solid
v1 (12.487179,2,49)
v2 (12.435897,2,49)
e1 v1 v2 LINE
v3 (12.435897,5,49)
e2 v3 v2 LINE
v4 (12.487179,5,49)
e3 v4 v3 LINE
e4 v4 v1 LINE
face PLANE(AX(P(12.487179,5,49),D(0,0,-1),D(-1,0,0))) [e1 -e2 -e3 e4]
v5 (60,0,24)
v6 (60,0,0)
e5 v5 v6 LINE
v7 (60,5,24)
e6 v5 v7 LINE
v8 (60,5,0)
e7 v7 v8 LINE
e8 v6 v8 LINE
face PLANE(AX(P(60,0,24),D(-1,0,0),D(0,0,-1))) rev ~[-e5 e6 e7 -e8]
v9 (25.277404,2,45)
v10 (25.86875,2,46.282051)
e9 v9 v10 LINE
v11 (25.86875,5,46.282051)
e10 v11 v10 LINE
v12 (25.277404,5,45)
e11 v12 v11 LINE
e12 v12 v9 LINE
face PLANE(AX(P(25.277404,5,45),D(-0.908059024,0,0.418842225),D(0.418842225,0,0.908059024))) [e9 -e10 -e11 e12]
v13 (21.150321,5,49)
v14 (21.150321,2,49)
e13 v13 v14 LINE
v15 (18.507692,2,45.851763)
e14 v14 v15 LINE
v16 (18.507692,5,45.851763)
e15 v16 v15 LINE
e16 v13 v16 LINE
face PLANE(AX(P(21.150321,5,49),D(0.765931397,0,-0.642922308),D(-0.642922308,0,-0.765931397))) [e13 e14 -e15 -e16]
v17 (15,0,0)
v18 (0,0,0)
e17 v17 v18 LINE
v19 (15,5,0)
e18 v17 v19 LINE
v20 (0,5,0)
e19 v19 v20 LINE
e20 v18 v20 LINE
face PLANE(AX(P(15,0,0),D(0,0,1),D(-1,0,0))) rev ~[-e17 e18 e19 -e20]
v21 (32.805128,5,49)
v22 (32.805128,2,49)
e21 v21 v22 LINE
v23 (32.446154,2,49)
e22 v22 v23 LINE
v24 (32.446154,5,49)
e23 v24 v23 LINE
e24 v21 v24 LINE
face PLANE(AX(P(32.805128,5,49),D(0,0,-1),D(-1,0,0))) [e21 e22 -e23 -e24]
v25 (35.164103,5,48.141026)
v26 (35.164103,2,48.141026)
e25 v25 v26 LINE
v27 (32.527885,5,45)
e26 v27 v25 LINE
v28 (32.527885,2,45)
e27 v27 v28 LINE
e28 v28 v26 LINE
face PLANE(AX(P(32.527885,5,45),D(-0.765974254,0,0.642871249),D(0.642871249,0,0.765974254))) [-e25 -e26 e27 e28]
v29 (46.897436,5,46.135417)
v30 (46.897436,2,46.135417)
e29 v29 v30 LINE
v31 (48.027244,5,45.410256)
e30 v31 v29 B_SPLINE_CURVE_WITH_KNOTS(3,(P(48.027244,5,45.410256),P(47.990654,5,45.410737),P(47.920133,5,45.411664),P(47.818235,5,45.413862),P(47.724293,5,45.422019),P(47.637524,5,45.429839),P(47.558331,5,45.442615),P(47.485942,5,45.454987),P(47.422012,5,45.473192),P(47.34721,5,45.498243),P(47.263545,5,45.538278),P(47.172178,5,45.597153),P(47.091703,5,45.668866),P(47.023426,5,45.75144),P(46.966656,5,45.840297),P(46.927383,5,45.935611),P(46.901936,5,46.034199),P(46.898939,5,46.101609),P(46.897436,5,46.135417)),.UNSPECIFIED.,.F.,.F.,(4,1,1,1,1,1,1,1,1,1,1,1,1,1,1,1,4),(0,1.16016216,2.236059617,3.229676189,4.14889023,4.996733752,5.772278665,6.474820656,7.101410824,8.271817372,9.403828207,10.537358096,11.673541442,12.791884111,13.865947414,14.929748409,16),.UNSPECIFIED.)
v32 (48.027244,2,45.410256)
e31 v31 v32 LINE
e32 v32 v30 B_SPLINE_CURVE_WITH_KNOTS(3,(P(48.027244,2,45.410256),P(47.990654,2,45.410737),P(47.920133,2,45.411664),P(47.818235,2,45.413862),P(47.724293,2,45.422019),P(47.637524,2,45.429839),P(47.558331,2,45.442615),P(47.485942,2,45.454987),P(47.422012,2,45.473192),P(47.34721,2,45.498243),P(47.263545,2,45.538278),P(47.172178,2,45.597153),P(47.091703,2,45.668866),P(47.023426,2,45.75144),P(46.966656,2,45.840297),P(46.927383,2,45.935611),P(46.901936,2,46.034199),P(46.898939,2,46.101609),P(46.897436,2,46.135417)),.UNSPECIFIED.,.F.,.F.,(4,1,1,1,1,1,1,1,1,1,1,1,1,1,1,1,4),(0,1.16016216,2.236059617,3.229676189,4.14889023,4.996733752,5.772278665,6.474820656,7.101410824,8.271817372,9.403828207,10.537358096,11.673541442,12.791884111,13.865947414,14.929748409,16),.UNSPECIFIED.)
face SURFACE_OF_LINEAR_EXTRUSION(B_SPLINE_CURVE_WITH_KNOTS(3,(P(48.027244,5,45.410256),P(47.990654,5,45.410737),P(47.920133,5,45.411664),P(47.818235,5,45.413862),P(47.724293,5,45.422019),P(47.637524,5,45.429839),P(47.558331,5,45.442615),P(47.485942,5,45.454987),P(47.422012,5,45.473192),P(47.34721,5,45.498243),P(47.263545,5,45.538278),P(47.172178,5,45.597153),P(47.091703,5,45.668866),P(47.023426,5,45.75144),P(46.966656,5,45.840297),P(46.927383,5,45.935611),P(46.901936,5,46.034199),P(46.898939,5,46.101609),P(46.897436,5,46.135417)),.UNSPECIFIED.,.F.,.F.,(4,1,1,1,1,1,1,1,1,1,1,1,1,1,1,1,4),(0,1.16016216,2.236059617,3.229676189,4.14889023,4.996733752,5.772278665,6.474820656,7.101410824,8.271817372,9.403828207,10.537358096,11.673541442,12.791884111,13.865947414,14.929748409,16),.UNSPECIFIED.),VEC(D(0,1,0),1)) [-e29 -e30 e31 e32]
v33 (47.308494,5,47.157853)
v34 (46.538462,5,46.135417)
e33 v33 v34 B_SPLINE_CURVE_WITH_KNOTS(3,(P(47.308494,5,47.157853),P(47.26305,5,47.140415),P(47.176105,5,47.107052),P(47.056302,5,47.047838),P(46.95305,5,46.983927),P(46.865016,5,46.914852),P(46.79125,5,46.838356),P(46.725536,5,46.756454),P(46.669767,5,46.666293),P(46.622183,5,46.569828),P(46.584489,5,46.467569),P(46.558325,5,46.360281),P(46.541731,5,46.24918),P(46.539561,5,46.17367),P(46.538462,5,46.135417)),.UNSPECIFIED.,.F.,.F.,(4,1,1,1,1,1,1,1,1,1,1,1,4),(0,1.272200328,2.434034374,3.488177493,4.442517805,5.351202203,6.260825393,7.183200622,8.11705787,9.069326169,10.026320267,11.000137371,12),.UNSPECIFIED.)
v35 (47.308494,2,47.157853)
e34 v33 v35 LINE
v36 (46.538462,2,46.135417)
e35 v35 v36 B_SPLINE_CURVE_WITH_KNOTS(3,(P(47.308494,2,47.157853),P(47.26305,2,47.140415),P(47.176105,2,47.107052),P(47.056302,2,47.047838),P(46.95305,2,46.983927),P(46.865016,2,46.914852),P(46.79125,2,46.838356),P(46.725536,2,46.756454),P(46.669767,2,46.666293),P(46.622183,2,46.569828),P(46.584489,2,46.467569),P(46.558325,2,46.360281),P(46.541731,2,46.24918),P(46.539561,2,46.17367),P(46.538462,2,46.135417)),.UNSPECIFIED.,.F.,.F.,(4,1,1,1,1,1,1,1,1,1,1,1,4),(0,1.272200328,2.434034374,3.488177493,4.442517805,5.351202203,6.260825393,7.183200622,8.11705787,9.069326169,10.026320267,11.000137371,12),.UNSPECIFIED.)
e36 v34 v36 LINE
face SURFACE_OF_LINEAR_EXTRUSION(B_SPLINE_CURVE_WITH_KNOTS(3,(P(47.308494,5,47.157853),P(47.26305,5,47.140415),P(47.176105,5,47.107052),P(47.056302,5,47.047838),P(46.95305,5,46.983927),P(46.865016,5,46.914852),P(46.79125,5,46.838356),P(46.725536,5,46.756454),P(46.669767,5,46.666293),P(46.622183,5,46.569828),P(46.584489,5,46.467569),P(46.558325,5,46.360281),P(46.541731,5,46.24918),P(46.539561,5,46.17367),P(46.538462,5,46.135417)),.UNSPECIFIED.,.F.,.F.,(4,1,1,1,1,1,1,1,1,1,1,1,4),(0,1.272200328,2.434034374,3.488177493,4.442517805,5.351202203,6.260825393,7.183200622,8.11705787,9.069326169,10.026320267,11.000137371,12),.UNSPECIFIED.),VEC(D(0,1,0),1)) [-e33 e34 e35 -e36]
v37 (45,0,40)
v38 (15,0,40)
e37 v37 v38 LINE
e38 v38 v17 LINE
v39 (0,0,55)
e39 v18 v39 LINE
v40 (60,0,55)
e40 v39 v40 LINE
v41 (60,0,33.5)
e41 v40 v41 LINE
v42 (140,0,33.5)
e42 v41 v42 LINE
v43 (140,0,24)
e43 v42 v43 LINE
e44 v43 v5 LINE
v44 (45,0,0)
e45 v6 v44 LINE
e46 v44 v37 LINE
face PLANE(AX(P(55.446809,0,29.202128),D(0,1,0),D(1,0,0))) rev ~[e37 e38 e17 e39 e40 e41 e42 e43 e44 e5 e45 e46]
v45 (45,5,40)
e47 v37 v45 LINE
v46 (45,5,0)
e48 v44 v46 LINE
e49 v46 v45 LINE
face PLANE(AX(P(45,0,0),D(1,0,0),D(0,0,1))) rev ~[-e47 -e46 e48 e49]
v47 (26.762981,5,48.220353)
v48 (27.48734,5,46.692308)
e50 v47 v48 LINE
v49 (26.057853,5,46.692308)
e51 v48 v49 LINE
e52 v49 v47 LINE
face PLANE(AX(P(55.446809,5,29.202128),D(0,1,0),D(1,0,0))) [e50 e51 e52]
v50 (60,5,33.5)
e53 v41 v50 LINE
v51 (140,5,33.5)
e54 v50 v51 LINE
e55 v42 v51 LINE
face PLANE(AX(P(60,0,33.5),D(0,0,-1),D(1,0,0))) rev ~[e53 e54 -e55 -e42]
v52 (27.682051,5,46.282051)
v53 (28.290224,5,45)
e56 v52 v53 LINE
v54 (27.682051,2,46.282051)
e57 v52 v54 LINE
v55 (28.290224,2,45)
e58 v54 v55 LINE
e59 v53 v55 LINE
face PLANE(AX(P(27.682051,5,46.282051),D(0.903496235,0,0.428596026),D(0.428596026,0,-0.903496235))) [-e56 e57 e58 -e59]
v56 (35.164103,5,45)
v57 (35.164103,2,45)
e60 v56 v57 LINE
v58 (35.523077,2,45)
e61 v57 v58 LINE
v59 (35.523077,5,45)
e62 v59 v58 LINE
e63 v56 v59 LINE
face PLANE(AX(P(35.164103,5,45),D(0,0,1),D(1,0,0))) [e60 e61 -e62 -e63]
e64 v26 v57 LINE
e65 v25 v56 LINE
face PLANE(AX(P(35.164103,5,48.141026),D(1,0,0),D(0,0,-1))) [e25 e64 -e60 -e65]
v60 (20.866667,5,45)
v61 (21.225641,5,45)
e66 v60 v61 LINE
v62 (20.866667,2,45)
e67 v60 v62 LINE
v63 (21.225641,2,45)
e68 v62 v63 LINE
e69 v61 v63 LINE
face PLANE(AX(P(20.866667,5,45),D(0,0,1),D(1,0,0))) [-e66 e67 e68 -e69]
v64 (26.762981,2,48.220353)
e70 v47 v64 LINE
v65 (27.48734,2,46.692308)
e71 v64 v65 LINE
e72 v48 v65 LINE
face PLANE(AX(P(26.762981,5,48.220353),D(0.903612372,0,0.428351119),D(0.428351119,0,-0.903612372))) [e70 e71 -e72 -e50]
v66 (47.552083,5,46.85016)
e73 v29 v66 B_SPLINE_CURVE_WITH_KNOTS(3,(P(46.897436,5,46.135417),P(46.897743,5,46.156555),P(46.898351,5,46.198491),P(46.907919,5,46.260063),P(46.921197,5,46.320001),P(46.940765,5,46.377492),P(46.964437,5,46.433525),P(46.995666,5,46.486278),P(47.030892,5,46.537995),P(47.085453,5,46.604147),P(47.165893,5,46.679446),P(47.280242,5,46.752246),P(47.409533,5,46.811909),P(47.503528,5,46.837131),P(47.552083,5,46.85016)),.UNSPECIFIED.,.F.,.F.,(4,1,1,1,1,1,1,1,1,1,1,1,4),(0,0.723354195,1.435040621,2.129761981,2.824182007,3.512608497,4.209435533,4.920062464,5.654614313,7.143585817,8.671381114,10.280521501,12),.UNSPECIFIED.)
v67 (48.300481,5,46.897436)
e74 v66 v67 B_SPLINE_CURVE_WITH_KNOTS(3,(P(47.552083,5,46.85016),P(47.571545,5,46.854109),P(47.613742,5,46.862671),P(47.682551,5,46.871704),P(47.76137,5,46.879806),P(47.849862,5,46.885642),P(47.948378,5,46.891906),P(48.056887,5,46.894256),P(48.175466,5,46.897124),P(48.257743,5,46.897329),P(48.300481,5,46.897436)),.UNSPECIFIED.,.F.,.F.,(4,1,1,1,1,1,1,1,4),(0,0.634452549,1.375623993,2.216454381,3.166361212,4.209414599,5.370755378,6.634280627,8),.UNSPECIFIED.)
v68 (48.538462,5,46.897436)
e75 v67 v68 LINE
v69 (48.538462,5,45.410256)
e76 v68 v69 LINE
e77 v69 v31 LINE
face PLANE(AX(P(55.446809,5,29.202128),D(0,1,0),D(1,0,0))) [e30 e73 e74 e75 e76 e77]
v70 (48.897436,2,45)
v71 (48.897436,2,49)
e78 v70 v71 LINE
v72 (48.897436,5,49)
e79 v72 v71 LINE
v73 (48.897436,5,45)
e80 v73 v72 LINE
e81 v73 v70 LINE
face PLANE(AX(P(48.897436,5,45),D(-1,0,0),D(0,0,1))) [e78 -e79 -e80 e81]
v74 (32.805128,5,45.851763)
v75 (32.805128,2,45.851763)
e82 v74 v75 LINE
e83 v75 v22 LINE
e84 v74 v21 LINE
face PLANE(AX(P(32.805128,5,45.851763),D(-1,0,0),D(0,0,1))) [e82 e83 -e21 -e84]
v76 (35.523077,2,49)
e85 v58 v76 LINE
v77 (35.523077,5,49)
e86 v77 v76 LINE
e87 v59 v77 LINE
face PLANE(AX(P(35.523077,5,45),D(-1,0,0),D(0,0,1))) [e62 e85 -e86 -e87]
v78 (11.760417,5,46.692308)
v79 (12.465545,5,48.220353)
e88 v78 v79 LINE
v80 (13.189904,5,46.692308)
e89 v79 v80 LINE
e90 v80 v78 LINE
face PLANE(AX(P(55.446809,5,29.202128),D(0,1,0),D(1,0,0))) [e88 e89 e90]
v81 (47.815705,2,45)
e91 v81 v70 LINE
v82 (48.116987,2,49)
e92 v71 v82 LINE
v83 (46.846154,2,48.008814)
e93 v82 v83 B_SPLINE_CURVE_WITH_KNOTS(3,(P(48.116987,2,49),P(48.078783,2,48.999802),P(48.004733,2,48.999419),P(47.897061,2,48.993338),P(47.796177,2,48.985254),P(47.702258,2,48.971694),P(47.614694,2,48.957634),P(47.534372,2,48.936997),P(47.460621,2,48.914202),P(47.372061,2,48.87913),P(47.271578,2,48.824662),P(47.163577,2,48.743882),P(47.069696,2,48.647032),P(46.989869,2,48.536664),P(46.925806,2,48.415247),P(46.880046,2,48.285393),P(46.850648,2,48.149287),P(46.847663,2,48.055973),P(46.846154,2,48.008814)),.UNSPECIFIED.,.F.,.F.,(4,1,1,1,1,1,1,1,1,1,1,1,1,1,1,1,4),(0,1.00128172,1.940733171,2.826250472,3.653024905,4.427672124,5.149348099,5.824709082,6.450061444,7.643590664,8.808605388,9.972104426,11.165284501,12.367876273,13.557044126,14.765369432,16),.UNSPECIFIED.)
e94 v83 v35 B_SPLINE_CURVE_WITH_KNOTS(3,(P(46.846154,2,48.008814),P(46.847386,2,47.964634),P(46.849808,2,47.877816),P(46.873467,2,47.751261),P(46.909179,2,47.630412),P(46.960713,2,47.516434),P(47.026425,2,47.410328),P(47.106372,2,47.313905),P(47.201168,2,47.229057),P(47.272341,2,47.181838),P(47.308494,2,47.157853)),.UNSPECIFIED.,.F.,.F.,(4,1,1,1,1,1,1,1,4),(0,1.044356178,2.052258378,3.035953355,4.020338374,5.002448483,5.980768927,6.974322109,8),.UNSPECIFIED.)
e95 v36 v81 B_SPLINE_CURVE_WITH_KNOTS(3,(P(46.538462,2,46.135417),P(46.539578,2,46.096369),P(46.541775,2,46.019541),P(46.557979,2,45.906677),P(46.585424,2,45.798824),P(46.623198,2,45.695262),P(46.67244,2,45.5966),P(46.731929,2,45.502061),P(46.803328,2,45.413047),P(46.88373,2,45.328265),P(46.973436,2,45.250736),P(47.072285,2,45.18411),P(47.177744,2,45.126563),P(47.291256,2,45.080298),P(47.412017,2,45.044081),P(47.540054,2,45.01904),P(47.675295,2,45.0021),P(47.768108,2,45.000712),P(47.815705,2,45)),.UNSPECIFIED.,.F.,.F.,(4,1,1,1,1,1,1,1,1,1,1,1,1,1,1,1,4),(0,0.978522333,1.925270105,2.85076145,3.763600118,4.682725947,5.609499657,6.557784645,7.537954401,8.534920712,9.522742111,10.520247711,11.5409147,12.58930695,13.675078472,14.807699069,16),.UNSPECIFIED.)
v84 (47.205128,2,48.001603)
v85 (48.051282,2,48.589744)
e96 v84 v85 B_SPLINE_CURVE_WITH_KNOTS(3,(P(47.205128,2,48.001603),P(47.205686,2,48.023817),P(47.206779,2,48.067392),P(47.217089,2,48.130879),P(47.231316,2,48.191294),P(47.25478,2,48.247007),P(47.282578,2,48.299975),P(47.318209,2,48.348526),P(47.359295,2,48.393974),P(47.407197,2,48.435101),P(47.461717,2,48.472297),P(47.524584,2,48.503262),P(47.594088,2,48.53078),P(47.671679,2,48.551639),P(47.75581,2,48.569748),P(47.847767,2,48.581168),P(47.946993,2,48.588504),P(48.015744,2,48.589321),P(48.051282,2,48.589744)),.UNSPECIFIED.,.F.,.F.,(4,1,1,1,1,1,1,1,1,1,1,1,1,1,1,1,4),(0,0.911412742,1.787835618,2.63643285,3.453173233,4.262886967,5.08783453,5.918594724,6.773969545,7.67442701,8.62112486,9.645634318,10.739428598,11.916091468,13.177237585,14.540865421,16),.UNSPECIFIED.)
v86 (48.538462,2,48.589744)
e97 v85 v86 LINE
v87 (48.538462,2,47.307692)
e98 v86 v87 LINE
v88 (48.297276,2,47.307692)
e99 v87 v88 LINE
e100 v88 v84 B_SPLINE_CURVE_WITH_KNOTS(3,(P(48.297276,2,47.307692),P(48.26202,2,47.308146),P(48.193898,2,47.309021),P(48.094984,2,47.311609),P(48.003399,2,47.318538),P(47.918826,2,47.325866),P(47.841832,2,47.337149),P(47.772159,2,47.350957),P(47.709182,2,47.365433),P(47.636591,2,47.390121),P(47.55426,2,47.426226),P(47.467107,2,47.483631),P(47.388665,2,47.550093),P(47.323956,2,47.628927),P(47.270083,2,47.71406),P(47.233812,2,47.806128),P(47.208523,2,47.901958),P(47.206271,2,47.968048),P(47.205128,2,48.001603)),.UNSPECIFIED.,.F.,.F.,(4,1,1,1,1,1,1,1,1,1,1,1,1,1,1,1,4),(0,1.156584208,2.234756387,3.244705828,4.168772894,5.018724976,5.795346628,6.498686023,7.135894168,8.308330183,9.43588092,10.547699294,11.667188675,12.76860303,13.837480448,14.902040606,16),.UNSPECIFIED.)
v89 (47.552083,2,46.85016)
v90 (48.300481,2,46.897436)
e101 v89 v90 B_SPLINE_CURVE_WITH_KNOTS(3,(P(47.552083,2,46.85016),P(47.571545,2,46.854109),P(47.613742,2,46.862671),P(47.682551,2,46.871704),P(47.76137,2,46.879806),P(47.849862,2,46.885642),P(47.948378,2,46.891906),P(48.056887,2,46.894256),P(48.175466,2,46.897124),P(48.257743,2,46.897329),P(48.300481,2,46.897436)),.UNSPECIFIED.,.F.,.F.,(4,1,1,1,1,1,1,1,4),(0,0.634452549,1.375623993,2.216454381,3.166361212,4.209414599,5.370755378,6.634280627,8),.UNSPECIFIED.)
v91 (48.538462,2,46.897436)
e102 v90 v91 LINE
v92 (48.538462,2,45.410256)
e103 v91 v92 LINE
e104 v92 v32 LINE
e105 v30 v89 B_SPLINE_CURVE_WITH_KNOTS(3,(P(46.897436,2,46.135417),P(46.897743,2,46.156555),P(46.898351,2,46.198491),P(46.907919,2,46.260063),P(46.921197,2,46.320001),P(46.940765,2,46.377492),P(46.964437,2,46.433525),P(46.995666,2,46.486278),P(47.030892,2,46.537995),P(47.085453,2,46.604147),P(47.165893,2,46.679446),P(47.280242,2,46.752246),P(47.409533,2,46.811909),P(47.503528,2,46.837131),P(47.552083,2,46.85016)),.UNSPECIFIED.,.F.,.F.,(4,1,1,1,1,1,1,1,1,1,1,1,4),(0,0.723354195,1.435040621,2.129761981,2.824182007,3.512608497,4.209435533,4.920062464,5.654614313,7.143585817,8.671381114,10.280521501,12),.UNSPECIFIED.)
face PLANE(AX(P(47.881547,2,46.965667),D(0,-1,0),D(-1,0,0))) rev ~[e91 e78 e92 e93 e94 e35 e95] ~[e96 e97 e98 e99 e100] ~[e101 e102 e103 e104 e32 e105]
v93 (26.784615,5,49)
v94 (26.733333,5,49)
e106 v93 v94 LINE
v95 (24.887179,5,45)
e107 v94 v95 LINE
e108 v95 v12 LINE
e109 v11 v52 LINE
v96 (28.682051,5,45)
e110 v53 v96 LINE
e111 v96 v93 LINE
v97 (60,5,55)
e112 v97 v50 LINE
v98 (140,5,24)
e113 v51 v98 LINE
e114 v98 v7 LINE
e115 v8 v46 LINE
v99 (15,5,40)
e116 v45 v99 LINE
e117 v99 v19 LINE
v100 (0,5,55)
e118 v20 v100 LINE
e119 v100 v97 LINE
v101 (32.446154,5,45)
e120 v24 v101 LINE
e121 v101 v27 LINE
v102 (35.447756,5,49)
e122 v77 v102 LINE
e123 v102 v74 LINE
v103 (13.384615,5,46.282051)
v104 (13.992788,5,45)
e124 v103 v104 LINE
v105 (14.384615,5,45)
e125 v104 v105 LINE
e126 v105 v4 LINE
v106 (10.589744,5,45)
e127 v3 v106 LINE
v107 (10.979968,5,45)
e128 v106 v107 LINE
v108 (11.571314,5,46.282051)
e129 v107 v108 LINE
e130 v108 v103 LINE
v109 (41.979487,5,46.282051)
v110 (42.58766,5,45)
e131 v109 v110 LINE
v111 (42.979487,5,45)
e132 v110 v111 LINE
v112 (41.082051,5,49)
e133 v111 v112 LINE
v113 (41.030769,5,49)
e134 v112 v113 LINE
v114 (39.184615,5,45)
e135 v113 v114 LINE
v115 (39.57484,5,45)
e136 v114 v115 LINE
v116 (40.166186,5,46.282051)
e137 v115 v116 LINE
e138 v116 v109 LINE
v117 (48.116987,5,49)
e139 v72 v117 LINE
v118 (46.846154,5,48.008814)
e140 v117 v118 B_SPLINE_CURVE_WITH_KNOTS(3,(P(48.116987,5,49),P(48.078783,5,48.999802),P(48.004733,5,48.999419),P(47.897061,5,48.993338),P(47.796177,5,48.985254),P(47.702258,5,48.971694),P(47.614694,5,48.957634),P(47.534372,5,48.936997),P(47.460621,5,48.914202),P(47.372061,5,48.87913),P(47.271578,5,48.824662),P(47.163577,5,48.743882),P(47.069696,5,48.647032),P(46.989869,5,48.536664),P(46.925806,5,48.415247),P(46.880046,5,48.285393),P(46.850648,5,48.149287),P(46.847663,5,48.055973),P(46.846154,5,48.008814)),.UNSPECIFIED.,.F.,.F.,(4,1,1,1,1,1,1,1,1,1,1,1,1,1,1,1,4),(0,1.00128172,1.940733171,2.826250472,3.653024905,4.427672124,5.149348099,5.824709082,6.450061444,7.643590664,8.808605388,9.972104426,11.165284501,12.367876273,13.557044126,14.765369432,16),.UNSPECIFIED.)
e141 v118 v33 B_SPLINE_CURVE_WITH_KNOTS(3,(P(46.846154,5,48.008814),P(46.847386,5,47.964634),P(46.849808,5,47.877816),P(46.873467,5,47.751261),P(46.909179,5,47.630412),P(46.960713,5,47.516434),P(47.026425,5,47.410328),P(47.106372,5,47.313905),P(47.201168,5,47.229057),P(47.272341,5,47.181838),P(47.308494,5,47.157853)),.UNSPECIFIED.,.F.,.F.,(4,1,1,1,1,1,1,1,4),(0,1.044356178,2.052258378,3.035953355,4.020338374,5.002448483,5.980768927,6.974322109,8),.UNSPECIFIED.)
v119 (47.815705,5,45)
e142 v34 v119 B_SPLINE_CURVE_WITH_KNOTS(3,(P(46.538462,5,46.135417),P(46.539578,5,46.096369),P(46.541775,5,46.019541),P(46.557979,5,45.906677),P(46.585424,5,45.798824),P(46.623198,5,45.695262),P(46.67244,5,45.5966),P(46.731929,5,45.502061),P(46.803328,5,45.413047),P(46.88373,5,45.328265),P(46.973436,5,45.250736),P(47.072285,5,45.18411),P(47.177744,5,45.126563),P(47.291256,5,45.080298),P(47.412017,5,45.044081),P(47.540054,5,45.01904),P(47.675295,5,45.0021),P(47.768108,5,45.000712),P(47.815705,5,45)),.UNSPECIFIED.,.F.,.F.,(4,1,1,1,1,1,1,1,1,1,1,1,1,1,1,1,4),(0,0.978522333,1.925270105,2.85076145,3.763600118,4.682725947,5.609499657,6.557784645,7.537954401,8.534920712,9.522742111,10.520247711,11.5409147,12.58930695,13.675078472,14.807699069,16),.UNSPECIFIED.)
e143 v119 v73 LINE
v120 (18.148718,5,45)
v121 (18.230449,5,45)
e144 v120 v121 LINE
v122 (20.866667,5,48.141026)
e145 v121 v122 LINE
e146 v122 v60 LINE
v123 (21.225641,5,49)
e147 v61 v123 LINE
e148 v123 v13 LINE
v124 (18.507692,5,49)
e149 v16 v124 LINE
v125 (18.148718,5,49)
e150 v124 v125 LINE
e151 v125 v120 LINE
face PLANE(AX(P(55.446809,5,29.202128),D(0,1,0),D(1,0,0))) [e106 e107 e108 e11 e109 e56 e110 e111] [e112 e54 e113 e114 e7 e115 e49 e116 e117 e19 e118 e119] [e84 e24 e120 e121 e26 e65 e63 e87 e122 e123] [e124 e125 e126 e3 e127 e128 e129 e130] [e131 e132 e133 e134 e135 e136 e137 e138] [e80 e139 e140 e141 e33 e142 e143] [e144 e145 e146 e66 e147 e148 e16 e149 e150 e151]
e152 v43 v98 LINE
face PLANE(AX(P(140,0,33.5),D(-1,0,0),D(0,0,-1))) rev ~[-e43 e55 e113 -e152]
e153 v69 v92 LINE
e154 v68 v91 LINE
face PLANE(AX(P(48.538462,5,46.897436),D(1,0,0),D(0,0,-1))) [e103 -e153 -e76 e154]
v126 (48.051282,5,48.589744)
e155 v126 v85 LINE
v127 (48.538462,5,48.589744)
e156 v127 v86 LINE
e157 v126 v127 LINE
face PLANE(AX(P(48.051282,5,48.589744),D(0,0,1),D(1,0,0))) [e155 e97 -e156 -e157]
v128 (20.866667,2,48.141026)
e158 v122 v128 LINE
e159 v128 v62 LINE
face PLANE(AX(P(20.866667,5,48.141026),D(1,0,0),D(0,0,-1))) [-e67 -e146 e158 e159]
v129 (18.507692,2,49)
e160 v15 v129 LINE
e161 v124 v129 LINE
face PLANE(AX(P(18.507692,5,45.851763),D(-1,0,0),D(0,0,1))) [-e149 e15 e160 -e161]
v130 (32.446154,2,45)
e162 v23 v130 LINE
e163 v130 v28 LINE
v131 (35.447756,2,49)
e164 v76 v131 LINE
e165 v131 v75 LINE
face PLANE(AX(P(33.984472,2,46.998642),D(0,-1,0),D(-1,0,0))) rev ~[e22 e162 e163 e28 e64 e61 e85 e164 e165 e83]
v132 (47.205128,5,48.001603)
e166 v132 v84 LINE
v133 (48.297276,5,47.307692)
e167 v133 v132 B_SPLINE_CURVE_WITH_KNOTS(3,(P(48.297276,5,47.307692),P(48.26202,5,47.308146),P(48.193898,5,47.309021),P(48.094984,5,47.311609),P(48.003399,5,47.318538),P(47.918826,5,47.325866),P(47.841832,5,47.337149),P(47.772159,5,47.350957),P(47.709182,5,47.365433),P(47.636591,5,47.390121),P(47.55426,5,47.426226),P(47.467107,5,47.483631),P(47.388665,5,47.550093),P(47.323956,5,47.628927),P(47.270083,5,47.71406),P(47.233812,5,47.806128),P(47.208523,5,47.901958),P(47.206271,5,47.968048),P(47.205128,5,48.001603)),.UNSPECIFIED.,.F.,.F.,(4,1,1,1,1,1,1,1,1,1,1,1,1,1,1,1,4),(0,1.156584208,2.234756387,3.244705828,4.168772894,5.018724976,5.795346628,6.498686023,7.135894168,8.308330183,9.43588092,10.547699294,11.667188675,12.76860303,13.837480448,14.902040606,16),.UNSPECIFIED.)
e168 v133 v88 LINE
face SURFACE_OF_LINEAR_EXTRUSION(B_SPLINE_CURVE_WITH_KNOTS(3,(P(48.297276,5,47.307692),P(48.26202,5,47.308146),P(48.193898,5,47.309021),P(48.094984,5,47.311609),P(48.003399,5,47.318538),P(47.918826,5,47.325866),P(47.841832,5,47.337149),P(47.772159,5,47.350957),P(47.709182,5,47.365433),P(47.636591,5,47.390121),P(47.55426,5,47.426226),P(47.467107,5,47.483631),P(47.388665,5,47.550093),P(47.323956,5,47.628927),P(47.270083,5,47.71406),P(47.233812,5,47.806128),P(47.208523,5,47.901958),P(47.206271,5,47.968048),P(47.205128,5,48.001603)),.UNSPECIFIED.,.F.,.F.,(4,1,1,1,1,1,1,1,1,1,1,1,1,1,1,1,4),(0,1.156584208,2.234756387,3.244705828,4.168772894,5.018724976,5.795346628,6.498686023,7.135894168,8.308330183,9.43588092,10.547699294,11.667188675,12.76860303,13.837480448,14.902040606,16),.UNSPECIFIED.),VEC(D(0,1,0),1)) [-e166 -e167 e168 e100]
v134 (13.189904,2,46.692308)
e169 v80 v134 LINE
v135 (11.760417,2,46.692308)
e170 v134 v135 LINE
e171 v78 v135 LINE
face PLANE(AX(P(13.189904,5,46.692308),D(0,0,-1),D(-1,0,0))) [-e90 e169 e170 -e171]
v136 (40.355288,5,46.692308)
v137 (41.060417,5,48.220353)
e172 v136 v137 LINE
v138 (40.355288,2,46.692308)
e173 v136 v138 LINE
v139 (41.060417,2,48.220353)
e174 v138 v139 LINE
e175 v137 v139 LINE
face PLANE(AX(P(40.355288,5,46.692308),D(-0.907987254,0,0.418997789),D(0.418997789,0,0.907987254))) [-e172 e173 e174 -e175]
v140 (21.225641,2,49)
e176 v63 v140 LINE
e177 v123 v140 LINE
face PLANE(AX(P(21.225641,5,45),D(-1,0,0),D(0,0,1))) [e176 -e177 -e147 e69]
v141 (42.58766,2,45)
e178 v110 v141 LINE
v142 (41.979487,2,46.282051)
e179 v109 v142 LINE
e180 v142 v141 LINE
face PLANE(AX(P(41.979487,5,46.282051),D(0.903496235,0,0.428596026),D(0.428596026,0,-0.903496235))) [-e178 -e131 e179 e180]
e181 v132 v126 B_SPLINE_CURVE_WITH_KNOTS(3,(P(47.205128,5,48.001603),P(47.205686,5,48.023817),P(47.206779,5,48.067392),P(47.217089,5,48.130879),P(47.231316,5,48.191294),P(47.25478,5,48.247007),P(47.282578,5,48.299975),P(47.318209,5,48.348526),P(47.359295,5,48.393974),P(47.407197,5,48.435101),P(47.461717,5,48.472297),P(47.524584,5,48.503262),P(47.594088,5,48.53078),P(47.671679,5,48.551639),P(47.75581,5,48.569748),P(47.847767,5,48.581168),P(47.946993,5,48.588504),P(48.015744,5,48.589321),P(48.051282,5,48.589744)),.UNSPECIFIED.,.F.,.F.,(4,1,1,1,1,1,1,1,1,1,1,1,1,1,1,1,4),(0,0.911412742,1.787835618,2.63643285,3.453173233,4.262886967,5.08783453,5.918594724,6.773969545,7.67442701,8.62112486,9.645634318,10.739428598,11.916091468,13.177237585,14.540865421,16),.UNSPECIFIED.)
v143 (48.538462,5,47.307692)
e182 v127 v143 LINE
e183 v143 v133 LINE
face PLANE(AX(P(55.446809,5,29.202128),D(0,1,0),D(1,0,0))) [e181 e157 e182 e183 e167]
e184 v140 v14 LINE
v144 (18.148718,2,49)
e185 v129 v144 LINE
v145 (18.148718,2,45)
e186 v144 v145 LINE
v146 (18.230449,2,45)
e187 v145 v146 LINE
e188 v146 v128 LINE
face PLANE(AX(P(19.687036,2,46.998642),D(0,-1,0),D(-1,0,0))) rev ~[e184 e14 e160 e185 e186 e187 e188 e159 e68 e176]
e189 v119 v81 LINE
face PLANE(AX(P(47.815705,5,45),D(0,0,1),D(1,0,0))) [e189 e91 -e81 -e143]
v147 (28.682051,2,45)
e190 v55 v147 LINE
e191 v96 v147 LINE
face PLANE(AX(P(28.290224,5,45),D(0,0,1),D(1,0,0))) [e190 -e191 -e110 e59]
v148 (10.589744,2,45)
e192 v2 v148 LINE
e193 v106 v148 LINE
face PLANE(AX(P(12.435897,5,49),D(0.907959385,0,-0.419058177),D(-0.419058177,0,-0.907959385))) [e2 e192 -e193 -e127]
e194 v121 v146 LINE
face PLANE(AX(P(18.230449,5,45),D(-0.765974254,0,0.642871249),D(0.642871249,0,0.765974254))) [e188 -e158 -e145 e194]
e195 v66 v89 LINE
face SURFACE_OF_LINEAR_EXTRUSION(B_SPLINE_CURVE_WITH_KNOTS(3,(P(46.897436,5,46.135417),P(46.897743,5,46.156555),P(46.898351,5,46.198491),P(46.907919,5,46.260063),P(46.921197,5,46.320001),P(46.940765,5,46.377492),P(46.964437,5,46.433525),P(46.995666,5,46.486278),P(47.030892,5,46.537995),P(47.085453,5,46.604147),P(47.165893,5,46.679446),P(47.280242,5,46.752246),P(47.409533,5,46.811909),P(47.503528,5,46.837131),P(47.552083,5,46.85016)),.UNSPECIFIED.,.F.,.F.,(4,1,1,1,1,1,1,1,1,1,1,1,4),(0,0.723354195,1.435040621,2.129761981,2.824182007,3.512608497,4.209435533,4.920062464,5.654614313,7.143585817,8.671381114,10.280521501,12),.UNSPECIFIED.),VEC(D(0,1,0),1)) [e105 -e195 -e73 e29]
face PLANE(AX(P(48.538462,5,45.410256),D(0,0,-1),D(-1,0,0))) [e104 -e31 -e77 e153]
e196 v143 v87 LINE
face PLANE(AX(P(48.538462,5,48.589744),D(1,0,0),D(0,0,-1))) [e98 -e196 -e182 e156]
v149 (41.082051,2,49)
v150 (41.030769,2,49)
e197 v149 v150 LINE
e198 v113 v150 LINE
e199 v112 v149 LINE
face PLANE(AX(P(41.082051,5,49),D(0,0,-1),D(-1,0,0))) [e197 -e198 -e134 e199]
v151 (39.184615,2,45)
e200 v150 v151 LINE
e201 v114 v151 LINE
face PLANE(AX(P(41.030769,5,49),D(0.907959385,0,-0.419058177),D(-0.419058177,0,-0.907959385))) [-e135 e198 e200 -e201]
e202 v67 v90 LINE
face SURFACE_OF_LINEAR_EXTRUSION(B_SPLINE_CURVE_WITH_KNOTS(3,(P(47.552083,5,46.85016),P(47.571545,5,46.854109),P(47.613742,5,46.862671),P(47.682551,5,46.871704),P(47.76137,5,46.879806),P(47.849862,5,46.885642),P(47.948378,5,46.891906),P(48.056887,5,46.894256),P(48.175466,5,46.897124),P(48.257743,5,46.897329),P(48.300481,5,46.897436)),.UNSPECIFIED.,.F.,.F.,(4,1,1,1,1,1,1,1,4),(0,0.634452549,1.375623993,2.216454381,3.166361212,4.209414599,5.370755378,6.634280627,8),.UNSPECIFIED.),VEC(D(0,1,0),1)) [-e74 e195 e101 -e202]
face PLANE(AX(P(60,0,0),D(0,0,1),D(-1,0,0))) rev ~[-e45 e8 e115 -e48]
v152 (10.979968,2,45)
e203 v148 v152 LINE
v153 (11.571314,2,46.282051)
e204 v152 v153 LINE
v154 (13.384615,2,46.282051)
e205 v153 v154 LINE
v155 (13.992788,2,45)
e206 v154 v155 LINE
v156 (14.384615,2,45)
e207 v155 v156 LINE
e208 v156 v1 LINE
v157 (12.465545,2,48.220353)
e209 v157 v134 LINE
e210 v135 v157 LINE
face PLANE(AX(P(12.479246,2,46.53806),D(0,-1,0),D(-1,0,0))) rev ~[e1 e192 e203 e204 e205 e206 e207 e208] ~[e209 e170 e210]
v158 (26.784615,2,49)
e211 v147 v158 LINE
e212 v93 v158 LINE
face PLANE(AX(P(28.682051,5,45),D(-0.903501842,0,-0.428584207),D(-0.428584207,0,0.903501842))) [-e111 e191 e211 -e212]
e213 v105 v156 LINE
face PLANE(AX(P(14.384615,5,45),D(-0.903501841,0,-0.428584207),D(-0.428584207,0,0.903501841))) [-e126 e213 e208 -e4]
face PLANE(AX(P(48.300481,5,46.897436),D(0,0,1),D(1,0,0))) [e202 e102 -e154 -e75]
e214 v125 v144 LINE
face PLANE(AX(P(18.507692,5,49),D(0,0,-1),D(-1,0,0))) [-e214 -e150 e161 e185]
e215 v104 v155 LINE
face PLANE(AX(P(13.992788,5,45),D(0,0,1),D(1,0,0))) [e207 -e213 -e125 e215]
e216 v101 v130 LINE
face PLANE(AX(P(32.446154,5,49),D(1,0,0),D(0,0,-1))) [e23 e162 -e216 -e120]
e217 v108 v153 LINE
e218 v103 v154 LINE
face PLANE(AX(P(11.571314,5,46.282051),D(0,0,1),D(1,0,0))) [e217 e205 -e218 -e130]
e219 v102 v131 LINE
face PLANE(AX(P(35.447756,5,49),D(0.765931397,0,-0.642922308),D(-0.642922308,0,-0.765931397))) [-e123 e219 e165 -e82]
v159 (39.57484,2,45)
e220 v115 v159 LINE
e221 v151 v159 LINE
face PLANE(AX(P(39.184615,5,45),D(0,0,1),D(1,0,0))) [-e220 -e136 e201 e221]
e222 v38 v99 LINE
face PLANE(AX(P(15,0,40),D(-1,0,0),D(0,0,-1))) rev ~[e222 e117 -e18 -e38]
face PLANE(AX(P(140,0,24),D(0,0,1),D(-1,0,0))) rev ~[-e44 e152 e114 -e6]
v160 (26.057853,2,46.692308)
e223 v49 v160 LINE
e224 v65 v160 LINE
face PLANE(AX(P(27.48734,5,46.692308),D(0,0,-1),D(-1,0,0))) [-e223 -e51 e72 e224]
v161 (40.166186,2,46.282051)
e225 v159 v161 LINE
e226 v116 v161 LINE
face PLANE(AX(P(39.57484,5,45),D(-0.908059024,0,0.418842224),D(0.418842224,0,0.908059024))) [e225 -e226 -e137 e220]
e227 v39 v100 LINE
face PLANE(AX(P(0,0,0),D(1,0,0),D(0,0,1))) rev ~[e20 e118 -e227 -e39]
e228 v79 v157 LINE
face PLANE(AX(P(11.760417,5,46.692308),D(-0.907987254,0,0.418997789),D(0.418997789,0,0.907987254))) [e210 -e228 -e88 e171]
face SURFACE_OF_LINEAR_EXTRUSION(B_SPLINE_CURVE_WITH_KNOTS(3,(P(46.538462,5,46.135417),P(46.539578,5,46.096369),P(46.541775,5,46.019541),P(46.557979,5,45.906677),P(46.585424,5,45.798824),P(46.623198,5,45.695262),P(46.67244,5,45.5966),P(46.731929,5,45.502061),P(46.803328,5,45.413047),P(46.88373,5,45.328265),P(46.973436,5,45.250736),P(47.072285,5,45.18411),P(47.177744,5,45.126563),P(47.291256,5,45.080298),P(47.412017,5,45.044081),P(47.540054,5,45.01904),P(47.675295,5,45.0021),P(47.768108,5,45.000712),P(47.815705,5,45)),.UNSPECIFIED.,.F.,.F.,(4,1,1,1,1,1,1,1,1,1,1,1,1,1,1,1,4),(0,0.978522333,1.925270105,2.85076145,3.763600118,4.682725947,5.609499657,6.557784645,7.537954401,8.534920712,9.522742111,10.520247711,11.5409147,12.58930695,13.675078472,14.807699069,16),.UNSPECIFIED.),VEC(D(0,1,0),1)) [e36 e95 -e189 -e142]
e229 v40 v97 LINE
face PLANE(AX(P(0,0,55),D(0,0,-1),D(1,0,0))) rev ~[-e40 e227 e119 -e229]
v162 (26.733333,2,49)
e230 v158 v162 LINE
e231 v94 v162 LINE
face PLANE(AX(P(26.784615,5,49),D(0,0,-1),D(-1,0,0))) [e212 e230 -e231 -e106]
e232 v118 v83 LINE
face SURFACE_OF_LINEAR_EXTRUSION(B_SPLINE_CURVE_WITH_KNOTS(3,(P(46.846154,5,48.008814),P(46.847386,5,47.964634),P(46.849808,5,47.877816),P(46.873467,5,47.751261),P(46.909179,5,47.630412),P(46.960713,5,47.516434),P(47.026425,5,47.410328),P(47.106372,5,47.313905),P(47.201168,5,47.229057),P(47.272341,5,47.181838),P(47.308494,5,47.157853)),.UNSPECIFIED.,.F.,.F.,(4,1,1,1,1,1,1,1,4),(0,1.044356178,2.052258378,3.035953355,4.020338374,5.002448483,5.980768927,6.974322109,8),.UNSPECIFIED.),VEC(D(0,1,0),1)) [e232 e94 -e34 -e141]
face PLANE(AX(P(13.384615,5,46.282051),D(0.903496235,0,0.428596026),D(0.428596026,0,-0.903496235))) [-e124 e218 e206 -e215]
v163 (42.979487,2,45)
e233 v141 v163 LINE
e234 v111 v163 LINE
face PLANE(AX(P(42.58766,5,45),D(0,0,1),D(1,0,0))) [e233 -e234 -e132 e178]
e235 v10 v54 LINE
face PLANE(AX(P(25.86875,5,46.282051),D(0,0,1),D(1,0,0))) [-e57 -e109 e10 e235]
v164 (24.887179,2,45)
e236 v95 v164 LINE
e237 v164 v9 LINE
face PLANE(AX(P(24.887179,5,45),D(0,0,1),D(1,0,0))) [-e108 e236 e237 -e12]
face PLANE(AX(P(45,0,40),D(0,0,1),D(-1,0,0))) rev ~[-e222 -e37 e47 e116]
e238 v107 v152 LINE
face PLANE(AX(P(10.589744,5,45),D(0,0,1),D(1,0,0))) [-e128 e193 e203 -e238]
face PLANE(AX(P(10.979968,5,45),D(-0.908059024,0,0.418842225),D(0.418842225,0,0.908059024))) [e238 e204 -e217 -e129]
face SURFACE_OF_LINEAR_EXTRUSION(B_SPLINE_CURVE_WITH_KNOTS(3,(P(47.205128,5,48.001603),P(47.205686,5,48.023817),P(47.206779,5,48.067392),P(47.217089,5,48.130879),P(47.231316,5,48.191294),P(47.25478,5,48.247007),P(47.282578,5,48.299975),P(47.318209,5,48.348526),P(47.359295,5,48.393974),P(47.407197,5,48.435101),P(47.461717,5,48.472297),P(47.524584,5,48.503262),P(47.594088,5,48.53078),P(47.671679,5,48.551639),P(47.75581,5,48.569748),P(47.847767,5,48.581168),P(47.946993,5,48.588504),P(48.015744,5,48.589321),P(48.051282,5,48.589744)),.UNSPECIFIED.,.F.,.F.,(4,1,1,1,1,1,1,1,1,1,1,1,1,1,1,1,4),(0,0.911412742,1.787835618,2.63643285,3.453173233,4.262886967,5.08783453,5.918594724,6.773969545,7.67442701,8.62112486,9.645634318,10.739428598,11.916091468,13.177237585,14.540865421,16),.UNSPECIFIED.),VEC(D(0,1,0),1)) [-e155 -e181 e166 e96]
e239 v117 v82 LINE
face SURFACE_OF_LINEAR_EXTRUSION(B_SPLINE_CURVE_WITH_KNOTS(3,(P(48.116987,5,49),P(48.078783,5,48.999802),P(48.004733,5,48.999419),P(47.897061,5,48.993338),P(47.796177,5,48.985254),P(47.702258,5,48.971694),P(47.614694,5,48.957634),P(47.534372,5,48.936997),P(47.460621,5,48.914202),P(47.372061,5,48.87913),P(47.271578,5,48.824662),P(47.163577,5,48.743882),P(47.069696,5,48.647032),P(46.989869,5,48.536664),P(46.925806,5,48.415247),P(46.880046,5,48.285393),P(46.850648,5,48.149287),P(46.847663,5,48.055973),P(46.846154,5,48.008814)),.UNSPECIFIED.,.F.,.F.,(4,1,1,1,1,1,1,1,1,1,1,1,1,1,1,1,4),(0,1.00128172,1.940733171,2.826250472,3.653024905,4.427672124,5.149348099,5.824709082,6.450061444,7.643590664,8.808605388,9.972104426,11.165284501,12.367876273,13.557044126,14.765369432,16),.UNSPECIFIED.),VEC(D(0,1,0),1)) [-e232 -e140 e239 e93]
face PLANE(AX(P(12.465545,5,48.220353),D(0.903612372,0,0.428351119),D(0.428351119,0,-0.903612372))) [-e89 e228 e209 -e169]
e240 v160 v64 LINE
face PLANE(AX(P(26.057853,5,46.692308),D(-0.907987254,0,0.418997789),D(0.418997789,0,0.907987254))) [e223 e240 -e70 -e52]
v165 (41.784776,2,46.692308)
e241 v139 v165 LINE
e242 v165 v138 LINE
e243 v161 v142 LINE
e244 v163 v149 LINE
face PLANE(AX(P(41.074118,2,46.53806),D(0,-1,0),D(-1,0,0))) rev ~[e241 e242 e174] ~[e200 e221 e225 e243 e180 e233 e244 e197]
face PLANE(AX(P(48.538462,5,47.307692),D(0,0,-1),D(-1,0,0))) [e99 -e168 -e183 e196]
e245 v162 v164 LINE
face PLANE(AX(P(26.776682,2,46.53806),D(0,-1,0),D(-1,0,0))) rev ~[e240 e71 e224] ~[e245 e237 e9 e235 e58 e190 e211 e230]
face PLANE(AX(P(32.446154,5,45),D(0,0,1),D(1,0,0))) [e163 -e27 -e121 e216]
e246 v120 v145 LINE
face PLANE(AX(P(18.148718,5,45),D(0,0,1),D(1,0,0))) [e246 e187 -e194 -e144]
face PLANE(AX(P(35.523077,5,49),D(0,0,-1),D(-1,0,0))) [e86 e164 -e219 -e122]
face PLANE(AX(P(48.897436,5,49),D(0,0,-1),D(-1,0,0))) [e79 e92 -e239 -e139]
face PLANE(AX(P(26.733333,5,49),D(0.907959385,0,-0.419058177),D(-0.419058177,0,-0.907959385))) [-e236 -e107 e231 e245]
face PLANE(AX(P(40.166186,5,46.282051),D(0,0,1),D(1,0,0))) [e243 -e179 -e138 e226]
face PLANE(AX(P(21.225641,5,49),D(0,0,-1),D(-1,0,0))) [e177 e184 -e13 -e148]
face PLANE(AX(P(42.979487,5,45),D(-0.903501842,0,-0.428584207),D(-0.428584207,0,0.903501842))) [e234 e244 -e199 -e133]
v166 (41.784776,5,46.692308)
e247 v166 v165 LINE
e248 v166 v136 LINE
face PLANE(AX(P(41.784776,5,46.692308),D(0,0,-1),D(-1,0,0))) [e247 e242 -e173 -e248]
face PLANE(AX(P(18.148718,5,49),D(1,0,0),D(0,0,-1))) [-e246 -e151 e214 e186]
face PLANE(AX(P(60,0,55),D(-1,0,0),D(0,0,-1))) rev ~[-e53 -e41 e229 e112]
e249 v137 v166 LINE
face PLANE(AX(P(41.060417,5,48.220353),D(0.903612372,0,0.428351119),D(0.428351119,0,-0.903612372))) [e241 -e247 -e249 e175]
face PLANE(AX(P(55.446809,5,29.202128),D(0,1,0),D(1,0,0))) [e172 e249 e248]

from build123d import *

# Parameters (mm, degrees)
BOSS_EXTRUDE1_DEPTH = 5
CUT_EXTRUDE1_DEPTH  = 3


with BuildPart() as part:
    # Sketch1 → Boss-Extrude1 (new body)
    with BuildSketch(Plane(origin=(0, 0, 0), x_dir=(1, 0, 0), z_dir=(0, 1, 0))):
        Polygon((0, -55), (60, -55), (60, -33.5), (140, -33.5), (140, -24), (60, -24), (60, 0), (45, 0), (45, -40), (15, -40), (15, 0), (0, 0), align=None)
    extrude(amount=BOSS_EXTRUDE1_DEPTH)

    # Sketch4 → Cut-Extrude1 (cut)
    # profile 1 of 6: a face of its own
    with BuildSketch(Plane(origin=(0, 5, 0), x_dir=(1, 0, 0), z_dir=(0, 1, 0))):
        Polygon((12.435897436, -49), (10.58974359, -45), (10.979967949, -45), (11.571314103, -46.282051282), (13.384615385, -46.282051282), (13.992788462, -45), (14.384615385, -45), (12.487179487, -49), align=None)
        Polygon((12.465544872, -48.220352564), (13.189903846, -46.692307692), (11.760416667, -46.692307692), align=None, mode=Mode.SUBTRACT)
    # profile 2 of 6: a face of its own
    with BuildSketch(Plane(origin=(0, 5, 0), x_dir=(1, 0, 0), z_dir=(0, 1, 0))):
        Polygon((21.225641026, -45), (21.225641026, -49), (21.150320513, -49), (18.507692308, -45.851762821), (18.507692308, -49), (18.148717949, -49), (18.148717949, -45), (18.230448718, -45), (20.866666667, -48.141025641), (20.866666667, -45), align=None)
    # profile 3 of 6: a face of its own
    with BuildSketch(Plane(origin=(0, 5, 0), x_dir=(1, 0, 0), z_dir=(0, 1, 0))):
        Polygon((26.733333333, -49), (24.887179487, -45), (25.277403846, -45), (25.86875, -46.282051282), (27.682051282, -46.282051282), (28.290224359, -45), (28.682051282, -45), (26.784615385, -49), align=None)
        Polygon((26.762980769, -48.220352564), (27.487339744, -46.692307692), (26.057852564, -46.692307692), align=None, mode=Mode.SUBTRACT)
    # profile 4 of 6: a face of its own
    with BuildSketch(Plane(origin=(0, 5, 0), x_dir=(1, 0, 0), z_dir=(0, 1, 0))):
        Polygon((35.523076923, -45), (35.523076923, -49), (35.44775641, -49), (32.805128205, -45.851762821), (32.805128205, -49), (32.446153846, -49), (32.446153846, -45), (32.527884615, -45), (35.164102564, -48.141025641), (35.164102564, -45), align=None)
    # profile 5 of 6: a face of its own
    with BuildSketch(Plane(origin=(0, 5, 0), x_dir=(1, 0, 0), z_dir=(0, 1, 0))):
        Polygon((41.030769231, -49), (39.184615385, -45), (39.574839744, -45), (40.166185897, -46.282051282), (41.979487179, -46.282051282), (42.587660256, -45), (42.979487179, -45), (41.082051282, -49), align=None)
        Polygon((41.060416667, -48.220352564), (41.784775641, -46.692307692), (40.355288462, -46.692307692), align=None, mode=Mode.SUBTRACT)
    # profile 6 of 6: a face of its own
    with BuildSketch(Plane(origin=(0, 5, 0), x_dir=(1, 0, 0), z_dir=(0, 1, 0))):
        with BuildLine():
            Line((48.897435897, -49), (48.116987179, -49))
            add(Edge.make_bspline(
                [(48.116987179, -49), (48.078782602, -48.999802304), (48.004732622, -48.999419121), (47.897061448, -48.993338284), (47.7961773, -48.985254385), (47.702258451, -48.97169408), (47.614693787, -48.957633832), (47.534372273, -48.936996754), (47.460621116, -48.91420235), (47.372061071, -48.879130066), (47.271577566, -48.824662366), (47.163576599, -48.743881592), (47.06969557, -48.647031967), (46.989868866, -48.536664179), (46.925806239, -48.415247106), (46.880046085, -48.285393075), (46.85064802, -48.149286724), (46.847662619, -48.055973237), (46.846153846, -48.008814103)],
                knots=[0, 0, 0, 0, 1.00128172, 1.940733171, 2.826250472, 3.653024905, 4.427672124, 5.149348099, 5.824709082, 6.450061444, 7.643590664, 8.808605388, 9.972104426, 11.165284501, 12.367876273, 13.557044126, 14.765369432, 16, 16, 16, 16], degree=3))
            add(Edge.make_bspline(
                [(46.846153846, -48.008814103), (46.847386233, -47.964634112), (46.84980799, -47.877816264), (46.873466598, -47.751260803), (46.909178693, -47.630411683), (46.960713415, -47.516433521), (47.026424516, -47.410327841), (47.106371945, -47.313904536), (47.201167683, -47.22905671), (47.272340847, -47.181837688), (47.30849359, -47.157852564)],
                knots=[0, 0, 0, 0, 1.044356178, 2.052258378, 3.035953355, 4.020338374, 5.002448483, 5.980768927, 6.974322109, 8, 8, 8, 8], degree=3))
            add(Edge.make_bspline(
                [(47.30849359, -47.157852564), (47.263049876, -47.140414673), (47.176104795, -47.107051668), (47.056302302, -47.047837808), (46.953049503, -46.983927334), (46.86501575, -46.9148518), (46.791249685, -46.838355693), (46.725535913, -46.756453592), (46.669766654, -46.666293122), (46.622183034, -46.56982802), (46.584489246, -46.467569127), (46.558324516, -46.360281463), (46.54173076, -46.249180208), (46.539560824, -46.173670002), (46.538461538, -46.135416667)],
                knots=[0, 0, 0, 0, 1.272200328, 2.434034374, 3.488177493, 4.442517805, 5.351202203, 6.260825393, 7.183200622, 8.11705787, 9.069326169, 10.026320267, 11.000137371, 12, 12, 12, 12], degree=3))
            add(Edge.make_bspline(
                [(46.538461538, -46.135416667), (46.539578041, -46.096368878), (46.541774791, -46.019541259), (46.557978943, -45.90667732), (46.585423547, -45.798823648), (46.623198448, -45.695262323), (46.672439932, -45.596599873), (46.731928763, -45.502060921), (46.803327906, -45.413046548), (46.883730364, -45.328265046), (46.973436376, -45.250736025), (47.072285382, -45.184110133), (47.177743985, -45.126562612), (47.291256316, -45.080297632), (47.412016926, -45.044080616), (47.540054106, -45.019040231), (47.675295151, -45.002100252), (47.768107642, -45.000711963), (47.815705128, -45)],
                knots=[0, 0, 0, 0, 0.978522333, 1.925270105, 2.85076145, 3.763600118, 4.682725947, 5.609499657, 6.557784645, 7.537954401, 8.534920712, 9.522742111, 10.520247711, 11.5409147, 12.58930695, 13.675078472, 14.807699069, 16, 16, 16, 16], degree=3))
            Line((47.815705128, -45), (48.897435897, -45))
            Line((48.897435897, -45), (48.897435897, -49))
        make_face()
        with BuildLine():
            Line((48.538461538, -48.58974359), (48.538461538, -47.307692308))
            Line((48.538461538, -47.307692308), (48.297275641, -47.307692308))
            add(Edge.make_bspline(
                [(48.297275641, -47.307692308), (48.262019557, -47.308145559), (48.193897619, -47.309021333), (48.094984144, -47.311609081), (48.003398634, -47.318537578), (47.918825519, -47.32586562), (47.841831582, -47.337149257), (47.772159281, -47.350957405), (47.709182048, -47.365432661), (47.636590639, -47.390121207), (47.554259533, -47.426226355), (47.46710675, -47.483630694), (47.388665327, -47.550092509), (47.323955681, -47.628926607), (47.270082552, -47.714060303), (47.233811866, -47.806128442), (47.208522595, -47.901958331), (47.206271259, -47.968047579), (47.205128205, -48.001602564)],
                knots=[0, 0, 0, 0, 1.156584208, 2.234756387, 3.244705828, 4.168772894, 5.018724976, 5.795346628, 6.498686023, 7.135894168, 8.308330183, 9.43588092, 10.547699294, 11.667188675, 12.76860303, 13.837480448, 14.902040606, 16, 16, 16, 16], degree=3))
            add(Edge.make_bspline(
                [(47.205128205, -48.001602564), (47.205685691, -48.023816697), (47.20677926, -48.067392143), (47.217088766, -48.130879067), (47.231315761, -48.191293527), (47.25477962, -48.247006859), (47.282578229, -48.299975385), (47.318209405, -48.34852593), (47.359295429, -48.393973734), (47.407196584, -48.435100612), (47.461717059, -48.472297499), (47.524583935, -48.503262131), (47.594088014, -48.530780023), (47.671678673, -48.551639229), (47.755810377, -48.569748341), (47.847766678, -48.581167846), (47.946993383, -48.588503916), (48.015743783, -48.589321148), (48.051282051, -48.58974359)],
                knots=[0, 0, 0, 0, 0.911412742, 1.787835618, 2.63643285, 3.453173233, 4.262886967, 5.08783453, 5.918594724, 6.773969545, 7.67442701, 8.62112486, 9.645634318, 10.739428598, 11.916091468, 13.177237585, 14.540865421, 16, 16, 16, 16], degree=3))
            Line((48.051282051, -48.58974359), (48.538461538, -48.58974359))
        make_face(mode=Mode.SUBTRACT)
        with BuildLine():
            Line((48.538461538, -46.897435897), (48.538461538, -45.41025641))
            Line((48.538461538, -45.41025641), (48.02724359, -45.41025641))
            add(Edge.make_bspline(
                [(48.02724359, -45.41025641), (47.99065419, -45.41073715), (47.920132945, -45.411663713), (47.818234921, -45.41386232), (47.724292741, -45.422019142), (47.63752424, -45.429839399), (47.558330886, -45.442615415), (47.485942388, -45.454987006), (47.422012134, -45.473192413), (47.347210045, -45.498243376), (47.26354466, -45.538278135), (47.172178111, -45.597152678), (47.091703188, -45.66886621), (47.023425854, -45.751440271), (46.966656245, -45.84029687), (46.927382886, -45.935610894), (46.901935986, -46.034198698), (46.898938947, -46.101609423), (46.897435897, -46.135416667)],
                knots=[0, 0, 0, 0, 1.16016216, 2.236059617, 3.229676189, 4.14889023, 4.996733752, 5.772278665, 6.474820656, 7.101410824, 8.271817372, 9.403828207, 10.537358096, 11.673541442, 12.791884111, 13.865947414, 14.929748409, 16, 16, 16, 16], degree=3))
            add(Edge.make_bspline(
                [(46.897435897, -46.135416667), (46.897742716, -46.156555083), (46.898351404, -46.198490951), (46.907919371, -46.260062814), (46.921197263, -46.320001273), (46.940765146, -46.377492166), (46.964436964, -46.433525476), (46.995666123, -46.486277982), (47.030892383, -46.537995275), (47.085452532, -46.604147419), (47.165892911, -46.679445819), (47.280241748, -46.752246439), (47.409533392, -46.811908817), (47.503528097, -46.837131085), (47.552083333, -46.850160256)],
                knots=[0, 0, 0, 0, 0.723354195, 1.435040621, 2.129761981, 2.824182007, 3.512608497, 4.209435533, 4.920062464, 5.654614313, 7.143585817, 8.671381114, 10.280521501, 12, 12, 12, 12], degree=3))
            add(Edge.make_bspline(
                [(47.552083333, -46.850160256), (47.571545139, -46.854109189), (47.613742348, -46.86267129), (47.682551361, -46.871703561), (47.76137005, -46.879805803), (47.849861531, -46.88564168), (47.948377746, -46.891906393), (48.056887045, -46.894256042), (48.175466139, -46.897123913), (48.257743237, -46.897329242), (48.300480769, -46.897435897)],
                knots=[0, 0, 0, 0, 0.634452549, 1.375623993, 2.216454381, 3.166361212, 4.209414599, 5.370755378, 6.634280627, 8, 8, 8, 8], degree=3))
            Line((48.300480769, -46.897435897), (48.538461538, -46.897435897))
        make_face(mode=Mode.SUBTRACT)
    extrude(amount=-CUT_EXTRUDE1_DEPTH, mode=Mode.SUBTRACT)


solid = part.part
